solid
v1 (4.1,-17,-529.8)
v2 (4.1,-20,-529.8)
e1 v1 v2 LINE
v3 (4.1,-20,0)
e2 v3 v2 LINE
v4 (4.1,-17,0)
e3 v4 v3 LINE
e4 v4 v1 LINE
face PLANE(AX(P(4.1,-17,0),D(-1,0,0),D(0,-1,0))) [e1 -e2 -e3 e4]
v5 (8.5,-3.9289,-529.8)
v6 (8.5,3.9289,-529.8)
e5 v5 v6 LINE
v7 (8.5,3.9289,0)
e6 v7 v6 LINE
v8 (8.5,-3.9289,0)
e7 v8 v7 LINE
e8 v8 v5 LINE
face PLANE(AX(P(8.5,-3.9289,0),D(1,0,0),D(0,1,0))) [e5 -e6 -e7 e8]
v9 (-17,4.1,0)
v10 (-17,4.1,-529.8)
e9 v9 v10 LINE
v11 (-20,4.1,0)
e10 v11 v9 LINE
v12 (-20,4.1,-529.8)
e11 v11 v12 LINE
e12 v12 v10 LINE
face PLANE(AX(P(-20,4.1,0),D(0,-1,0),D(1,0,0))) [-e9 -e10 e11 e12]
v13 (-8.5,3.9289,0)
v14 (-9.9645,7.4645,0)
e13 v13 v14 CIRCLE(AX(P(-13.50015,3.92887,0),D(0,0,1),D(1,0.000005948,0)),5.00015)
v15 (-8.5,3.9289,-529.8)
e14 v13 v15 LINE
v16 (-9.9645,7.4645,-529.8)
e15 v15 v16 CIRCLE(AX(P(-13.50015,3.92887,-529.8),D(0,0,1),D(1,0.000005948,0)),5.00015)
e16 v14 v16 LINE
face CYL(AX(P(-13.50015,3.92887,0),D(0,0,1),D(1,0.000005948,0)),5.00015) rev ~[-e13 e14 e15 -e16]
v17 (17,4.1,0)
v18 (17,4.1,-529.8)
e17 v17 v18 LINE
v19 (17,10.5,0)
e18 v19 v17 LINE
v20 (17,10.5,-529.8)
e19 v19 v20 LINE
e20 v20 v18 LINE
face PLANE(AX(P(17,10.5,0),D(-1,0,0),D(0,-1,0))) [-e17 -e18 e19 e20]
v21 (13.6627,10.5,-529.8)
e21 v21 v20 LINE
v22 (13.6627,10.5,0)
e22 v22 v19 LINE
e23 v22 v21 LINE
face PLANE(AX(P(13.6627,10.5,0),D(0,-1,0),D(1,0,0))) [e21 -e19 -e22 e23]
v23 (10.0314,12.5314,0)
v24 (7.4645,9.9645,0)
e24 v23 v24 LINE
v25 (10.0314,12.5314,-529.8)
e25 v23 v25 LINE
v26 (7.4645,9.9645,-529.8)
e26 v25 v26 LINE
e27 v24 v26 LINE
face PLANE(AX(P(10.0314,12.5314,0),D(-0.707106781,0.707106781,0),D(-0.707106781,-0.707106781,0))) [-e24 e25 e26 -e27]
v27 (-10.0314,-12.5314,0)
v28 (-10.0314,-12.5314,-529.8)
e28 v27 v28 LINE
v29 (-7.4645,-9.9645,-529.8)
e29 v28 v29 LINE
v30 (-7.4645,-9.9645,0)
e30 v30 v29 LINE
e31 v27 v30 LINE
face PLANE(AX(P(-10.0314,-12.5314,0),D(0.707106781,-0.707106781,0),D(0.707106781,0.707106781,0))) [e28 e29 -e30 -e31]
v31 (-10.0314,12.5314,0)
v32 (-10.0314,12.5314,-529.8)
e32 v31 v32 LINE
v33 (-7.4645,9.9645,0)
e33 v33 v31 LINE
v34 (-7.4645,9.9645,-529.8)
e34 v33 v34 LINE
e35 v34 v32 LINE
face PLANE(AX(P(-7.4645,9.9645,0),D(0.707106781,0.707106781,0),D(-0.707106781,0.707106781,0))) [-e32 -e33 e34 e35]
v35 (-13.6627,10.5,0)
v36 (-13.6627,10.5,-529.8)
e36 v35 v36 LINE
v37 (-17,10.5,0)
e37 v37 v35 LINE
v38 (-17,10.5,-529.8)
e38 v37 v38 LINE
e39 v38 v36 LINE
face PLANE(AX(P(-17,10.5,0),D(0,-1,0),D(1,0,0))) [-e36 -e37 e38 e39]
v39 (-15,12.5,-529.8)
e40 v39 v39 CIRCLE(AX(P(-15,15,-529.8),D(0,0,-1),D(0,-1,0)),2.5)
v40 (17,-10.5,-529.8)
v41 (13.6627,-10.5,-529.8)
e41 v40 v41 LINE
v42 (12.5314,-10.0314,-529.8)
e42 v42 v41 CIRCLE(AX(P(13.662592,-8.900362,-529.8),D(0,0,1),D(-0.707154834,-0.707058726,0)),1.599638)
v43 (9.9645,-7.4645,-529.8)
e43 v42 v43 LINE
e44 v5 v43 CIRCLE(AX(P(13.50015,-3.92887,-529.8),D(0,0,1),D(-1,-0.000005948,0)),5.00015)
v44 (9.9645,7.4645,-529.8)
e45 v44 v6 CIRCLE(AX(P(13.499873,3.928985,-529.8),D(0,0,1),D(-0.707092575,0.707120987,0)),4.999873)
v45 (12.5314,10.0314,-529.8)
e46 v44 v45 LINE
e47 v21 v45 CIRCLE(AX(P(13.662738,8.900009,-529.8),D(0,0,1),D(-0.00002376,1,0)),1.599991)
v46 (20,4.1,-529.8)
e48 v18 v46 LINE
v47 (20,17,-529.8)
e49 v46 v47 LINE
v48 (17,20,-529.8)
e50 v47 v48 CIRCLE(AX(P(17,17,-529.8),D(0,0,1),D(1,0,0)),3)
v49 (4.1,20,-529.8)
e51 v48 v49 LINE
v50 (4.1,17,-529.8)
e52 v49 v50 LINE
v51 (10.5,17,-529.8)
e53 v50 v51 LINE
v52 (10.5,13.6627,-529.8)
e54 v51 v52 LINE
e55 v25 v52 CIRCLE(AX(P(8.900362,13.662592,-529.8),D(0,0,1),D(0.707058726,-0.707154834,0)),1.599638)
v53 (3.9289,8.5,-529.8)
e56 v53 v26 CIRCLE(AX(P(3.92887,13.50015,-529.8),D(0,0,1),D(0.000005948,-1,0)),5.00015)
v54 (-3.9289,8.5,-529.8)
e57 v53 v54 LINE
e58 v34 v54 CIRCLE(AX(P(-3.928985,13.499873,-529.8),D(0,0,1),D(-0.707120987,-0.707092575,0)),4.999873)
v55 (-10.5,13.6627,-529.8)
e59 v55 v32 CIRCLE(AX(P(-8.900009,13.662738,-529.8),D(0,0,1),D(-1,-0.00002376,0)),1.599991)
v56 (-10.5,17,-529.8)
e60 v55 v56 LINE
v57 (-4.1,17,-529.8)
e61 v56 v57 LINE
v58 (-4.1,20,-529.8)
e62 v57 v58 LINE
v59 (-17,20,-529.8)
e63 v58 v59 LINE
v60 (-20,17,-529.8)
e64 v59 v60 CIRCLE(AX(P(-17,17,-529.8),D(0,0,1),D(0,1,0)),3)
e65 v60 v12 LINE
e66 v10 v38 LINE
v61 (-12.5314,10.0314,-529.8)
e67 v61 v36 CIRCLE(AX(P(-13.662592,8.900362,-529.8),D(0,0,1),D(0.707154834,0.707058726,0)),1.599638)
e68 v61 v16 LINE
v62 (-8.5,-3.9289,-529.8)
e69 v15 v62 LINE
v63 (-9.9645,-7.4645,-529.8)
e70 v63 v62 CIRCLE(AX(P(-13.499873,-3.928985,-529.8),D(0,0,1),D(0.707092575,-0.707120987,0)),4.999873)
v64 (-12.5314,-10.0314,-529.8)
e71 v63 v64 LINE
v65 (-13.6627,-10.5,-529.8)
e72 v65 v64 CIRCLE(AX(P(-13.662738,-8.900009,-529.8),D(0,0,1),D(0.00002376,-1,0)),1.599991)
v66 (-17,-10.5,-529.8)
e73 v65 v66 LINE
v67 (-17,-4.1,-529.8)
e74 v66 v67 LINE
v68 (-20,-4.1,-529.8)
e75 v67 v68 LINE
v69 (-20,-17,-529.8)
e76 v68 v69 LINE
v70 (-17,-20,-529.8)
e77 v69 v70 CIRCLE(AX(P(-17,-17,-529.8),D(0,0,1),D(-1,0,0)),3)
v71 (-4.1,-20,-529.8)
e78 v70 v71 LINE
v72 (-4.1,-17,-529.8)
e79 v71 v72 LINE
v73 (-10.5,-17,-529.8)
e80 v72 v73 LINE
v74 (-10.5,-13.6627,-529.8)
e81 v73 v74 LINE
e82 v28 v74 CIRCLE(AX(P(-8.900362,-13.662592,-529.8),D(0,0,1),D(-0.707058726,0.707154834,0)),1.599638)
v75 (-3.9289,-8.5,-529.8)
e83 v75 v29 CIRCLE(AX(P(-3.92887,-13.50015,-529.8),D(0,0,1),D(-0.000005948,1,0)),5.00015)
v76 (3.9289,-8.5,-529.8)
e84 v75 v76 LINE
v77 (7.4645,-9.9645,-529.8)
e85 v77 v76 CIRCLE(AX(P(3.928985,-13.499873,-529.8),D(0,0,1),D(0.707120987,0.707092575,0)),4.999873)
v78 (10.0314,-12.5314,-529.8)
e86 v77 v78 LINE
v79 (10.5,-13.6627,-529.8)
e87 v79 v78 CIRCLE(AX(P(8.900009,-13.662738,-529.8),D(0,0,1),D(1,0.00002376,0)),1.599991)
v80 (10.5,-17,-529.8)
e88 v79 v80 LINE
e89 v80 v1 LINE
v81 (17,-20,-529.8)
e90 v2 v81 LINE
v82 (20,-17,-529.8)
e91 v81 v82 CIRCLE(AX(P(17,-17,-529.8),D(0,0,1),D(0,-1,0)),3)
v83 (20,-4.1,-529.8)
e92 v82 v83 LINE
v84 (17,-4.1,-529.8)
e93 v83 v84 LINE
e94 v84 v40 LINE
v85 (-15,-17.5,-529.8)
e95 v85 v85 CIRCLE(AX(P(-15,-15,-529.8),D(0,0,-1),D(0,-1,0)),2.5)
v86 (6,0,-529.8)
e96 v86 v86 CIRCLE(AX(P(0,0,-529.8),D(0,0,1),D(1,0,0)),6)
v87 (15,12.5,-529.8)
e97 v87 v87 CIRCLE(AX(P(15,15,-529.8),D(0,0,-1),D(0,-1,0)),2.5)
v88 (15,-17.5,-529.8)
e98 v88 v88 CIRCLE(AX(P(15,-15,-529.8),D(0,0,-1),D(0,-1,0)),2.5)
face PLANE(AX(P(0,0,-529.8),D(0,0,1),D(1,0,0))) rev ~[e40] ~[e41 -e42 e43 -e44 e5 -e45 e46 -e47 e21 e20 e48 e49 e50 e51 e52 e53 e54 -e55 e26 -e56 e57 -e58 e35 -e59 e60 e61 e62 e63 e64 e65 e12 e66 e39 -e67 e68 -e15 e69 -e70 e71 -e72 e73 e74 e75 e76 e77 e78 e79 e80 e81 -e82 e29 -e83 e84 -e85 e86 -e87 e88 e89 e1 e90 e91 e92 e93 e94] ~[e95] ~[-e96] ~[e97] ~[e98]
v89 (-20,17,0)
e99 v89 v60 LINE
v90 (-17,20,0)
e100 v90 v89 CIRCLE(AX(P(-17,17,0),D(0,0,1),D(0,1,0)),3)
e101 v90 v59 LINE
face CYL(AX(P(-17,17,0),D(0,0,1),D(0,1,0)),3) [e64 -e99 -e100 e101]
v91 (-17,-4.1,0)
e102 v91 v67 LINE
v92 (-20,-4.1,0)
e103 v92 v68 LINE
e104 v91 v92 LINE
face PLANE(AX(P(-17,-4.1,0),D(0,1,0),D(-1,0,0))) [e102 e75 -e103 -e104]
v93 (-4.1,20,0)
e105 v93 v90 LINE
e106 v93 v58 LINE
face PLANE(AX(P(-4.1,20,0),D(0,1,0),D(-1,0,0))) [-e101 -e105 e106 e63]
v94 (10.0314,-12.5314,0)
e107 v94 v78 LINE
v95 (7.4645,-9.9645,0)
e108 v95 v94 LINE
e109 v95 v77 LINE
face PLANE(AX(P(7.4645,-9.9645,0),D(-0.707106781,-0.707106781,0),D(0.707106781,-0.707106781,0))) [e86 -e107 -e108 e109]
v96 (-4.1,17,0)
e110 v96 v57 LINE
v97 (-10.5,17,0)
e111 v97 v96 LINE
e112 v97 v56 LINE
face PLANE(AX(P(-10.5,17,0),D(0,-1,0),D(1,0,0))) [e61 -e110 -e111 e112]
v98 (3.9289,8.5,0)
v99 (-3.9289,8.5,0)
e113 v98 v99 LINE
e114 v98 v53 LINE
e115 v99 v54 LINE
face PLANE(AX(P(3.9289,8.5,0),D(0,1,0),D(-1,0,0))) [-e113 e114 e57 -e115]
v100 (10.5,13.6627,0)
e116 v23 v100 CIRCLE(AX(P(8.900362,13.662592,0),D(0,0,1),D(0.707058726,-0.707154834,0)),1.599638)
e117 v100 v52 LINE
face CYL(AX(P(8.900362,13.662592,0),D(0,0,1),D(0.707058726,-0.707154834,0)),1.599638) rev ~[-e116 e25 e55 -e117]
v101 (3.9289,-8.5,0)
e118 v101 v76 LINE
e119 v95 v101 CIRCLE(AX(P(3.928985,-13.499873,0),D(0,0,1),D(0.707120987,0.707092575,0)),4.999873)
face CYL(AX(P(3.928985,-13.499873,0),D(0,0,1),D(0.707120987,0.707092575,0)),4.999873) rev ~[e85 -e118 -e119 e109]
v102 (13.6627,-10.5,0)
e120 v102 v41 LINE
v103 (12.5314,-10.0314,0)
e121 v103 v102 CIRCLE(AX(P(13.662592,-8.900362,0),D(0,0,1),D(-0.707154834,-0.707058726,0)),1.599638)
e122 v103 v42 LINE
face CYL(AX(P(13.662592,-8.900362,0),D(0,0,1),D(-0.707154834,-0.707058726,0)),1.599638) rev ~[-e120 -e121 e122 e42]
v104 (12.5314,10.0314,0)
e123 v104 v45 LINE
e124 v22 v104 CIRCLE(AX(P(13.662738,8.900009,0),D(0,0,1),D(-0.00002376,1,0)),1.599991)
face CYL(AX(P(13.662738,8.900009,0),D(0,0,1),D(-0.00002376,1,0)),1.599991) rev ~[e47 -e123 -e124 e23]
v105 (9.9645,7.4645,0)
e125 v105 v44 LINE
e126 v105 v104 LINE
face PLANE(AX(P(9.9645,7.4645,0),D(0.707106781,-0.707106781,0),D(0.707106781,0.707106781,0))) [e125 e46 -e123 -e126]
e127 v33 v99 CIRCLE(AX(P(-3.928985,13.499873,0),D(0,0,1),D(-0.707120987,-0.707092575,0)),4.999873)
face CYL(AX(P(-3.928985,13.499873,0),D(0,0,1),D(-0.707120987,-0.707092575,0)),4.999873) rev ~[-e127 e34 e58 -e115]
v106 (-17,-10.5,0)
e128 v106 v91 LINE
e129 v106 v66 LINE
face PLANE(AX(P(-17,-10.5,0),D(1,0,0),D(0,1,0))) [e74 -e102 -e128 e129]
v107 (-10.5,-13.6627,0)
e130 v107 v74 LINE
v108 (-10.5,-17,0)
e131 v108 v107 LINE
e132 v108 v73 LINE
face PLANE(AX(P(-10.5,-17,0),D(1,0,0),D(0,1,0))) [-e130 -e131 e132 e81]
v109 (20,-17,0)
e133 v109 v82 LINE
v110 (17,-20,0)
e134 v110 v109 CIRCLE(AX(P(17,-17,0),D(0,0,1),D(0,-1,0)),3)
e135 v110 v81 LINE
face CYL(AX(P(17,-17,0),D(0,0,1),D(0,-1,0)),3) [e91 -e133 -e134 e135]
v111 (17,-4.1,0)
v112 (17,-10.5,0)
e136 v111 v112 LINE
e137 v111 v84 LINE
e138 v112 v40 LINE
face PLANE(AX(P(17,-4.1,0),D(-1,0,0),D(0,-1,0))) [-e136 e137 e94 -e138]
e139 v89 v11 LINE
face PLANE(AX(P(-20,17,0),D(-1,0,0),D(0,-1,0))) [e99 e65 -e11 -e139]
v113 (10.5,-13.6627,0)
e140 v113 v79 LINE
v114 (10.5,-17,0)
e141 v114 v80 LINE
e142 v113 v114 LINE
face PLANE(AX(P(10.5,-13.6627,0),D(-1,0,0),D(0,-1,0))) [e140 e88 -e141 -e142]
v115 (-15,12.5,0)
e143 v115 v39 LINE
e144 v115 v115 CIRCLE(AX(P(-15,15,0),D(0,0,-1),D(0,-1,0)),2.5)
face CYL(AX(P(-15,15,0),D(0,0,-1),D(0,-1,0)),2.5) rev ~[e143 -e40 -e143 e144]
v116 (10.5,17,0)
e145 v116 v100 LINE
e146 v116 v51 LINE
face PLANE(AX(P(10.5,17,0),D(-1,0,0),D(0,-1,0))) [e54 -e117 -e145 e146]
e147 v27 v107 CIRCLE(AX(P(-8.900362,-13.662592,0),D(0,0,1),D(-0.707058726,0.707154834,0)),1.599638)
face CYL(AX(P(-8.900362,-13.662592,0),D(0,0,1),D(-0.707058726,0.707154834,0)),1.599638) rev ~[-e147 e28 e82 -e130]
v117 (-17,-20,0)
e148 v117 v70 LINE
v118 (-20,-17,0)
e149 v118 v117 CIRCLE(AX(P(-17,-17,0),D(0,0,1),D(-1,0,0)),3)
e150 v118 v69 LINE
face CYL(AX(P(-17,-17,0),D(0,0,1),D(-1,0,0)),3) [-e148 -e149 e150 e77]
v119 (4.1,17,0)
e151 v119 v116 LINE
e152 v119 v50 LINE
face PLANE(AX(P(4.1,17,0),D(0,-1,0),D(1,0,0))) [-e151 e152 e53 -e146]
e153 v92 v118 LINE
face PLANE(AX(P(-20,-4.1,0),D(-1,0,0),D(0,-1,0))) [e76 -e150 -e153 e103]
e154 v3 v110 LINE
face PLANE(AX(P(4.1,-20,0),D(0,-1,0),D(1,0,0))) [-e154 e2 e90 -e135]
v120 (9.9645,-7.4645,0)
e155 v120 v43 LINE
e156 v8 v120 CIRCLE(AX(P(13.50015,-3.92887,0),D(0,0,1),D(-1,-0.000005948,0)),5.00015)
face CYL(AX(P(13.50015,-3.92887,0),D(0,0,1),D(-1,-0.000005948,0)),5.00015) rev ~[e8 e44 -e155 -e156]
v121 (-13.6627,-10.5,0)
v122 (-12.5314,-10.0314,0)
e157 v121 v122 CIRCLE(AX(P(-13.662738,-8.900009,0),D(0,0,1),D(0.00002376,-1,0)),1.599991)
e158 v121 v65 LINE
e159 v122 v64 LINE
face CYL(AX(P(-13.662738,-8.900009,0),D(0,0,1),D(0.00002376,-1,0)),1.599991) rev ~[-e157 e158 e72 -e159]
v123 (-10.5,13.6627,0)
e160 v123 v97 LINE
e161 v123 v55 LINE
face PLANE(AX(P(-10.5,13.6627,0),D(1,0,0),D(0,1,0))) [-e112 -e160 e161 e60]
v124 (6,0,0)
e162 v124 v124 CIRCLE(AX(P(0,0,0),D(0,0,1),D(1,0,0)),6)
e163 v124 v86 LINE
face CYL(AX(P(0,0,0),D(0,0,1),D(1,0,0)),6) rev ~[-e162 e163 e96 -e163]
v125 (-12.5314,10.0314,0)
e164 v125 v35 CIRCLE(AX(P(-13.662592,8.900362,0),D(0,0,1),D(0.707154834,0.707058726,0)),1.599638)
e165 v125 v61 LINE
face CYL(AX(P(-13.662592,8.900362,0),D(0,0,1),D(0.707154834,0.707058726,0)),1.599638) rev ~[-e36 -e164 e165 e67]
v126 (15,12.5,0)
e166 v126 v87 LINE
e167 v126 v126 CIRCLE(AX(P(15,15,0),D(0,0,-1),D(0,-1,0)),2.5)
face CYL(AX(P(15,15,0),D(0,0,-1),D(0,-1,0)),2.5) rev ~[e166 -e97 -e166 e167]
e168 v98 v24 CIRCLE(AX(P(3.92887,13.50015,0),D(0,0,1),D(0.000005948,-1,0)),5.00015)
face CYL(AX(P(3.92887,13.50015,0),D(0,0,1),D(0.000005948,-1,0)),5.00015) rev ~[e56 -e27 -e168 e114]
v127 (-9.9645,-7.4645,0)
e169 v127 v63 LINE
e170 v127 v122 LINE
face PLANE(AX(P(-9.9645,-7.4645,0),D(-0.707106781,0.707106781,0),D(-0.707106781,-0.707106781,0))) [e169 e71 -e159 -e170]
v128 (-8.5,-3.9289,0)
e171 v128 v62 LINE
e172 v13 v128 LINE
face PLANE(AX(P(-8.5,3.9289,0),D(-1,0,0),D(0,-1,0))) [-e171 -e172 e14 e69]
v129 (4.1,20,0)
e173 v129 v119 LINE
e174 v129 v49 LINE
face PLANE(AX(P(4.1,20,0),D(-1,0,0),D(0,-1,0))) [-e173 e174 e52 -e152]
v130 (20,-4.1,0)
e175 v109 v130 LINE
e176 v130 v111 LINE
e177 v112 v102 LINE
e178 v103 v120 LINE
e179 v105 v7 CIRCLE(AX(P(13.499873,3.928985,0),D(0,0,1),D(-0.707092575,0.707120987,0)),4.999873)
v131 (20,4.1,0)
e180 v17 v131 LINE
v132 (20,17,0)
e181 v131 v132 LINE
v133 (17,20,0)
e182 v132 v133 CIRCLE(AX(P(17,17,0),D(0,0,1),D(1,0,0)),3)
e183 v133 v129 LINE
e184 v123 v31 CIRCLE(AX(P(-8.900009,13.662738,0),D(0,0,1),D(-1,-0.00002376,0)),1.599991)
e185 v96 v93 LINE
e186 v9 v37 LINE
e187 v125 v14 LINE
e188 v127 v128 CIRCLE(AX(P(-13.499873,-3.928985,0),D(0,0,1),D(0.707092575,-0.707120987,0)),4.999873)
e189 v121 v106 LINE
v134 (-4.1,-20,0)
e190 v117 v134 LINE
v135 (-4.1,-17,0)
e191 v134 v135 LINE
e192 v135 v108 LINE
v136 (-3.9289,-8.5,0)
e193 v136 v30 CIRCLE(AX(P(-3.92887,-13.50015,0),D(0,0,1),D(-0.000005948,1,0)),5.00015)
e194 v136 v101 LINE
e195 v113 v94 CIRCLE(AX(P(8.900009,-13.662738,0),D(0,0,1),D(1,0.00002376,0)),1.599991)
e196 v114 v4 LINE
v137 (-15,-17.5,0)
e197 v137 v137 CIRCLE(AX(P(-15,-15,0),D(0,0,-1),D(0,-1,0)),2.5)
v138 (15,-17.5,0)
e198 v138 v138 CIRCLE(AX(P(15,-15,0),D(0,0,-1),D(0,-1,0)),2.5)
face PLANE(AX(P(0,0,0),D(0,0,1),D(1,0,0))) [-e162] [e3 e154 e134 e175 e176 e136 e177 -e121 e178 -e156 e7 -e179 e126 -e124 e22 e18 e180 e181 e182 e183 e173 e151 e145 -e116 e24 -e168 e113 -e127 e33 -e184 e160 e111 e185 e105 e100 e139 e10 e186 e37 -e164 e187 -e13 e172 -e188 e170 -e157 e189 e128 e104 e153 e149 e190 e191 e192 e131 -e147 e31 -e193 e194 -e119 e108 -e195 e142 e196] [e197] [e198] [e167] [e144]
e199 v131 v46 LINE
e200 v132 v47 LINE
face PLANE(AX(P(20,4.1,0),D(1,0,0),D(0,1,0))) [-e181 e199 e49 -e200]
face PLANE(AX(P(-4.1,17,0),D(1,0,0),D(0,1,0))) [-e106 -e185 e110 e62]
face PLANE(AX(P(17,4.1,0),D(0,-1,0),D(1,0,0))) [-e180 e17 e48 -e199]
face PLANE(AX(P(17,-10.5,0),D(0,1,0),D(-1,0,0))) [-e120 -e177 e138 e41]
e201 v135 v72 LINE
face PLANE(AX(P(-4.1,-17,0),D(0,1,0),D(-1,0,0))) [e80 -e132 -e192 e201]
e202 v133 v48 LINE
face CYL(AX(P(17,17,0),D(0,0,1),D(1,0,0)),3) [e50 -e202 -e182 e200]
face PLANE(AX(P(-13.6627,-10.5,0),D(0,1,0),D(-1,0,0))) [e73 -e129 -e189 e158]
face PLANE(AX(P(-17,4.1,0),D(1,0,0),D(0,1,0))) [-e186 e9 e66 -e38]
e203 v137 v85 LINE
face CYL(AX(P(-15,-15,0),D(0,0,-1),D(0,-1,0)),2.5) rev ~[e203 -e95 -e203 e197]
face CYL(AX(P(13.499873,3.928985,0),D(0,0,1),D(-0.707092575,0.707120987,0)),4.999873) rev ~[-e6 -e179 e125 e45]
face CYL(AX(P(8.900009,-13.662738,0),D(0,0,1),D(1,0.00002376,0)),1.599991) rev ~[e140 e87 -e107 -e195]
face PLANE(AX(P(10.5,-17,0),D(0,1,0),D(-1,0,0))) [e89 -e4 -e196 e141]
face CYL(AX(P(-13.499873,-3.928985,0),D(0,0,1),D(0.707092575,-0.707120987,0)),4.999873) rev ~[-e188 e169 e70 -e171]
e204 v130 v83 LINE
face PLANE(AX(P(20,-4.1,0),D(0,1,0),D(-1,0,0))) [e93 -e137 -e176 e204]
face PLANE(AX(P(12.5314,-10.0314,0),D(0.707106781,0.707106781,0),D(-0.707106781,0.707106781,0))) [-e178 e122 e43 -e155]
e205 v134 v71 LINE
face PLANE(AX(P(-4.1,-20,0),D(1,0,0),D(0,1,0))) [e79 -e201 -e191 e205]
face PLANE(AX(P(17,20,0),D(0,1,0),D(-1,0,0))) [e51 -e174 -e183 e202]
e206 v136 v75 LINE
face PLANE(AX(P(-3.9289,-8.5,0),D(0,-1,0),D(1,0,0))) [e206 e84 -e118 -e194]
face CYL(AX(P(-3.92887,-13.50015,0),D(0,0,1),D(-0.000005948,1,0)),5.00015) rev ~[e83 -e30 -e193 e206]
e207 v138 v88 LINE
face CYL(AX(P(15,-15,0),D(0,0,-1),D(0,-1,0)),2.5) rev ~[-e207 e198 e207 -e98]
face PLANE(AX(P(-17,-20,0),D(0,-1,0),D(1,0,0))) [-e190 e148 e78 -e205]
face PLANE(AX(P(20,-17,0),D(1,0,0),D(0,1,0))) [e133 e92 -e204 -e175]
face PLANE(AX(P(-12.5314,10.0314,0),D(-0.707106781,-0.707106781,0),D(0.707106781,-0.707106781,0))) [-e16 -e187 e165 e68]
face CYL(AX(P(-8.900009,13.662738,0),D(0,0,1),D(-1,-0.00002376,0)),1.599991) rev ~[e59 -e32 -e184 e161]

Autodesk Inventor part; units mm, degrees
sketch "Skizze_1" plane through (0, 0, 0) normal (0, 0, 1) x (1, 0, 0)
  arc A0 (-20, -17) -> (-17, -20) centre (-17, -17) ccw
  line L0 (-17, -20) -> (-4.1, -20)
  line L1 (-4.1, -20) -> (-4.1, -17)
  line L2 (-4.1, -17) -> (-10.5, -17)
  line L3 (-10.5, -17) -> (-10.5, -13.6627)
  arc A1 (-10.0314, -12.5314) -> (-10.5, -13.6627) centre (-8.9002, -13.6627) ccw
  line L4 (-10.0314, -12.5314) -> (-7.4645, -9.9645)
  arc A2 (-3.9289, -8.5) -> (-7.4645, -9.9645) centre (-3.9289, -13.5) ccw
  line L5 (-3.9289, -8.5) -> (3.9289, -8.5)
  arc A3 (7.4645, -9.9645) -> (3.9289, -8.5) centre (3.9289, -13.5) ccw
  line L6 (7.4645, -9.9645) -> (10.0314, -12.5314)
  arc A4 (10.5, -13.6627) -> (10.0314, -12.5314) centre (8.9002, -13.6627) ccw
  line L7 (10.5, -13.6627) -> (10.5, -17)
  line L8 (10.5, -17) -> (4.1, -17)
  line L9 (4.1, -17) -> (4.1, -20)
  line L10 (4.1, -20) -> (17, -20)
  arc A5 (17, -20) -> (20, -17) centre (17, -17) ccw
  line L11 (20, -17) -> (20, -4.1)
  line L12 (20, -4.1) -> (17, -4.1)
  line L13 (17, -4.1) -> (17, -10.5)
  line L14 (17, -10.5) -> (13.6627, -10.5)
  arc A6 (12.5314, -10.0314) -> (13.6627, -10.5) centre (13.6627, -8.9002) ccw
  line L15 (12.5314, -10.0314) -> (9.9645, -7.4645)
  arc A7 (8.5, -3.9289) -> (9.9645, -7.4645) centre (13.5, -3.9289) ccw
  line L16 (8.5, -3.9289) -> (8.5, 3.9289)
  arc A8 (9.9645, 7.4645) -> (8.5, 3.9289) centre (13.5, 3.9289) ccw
  line L17 (9.9645, 7.4645) -> (12.5314, 10.0314)
  arc A9 (13.6627, 10.5) -> (12.5314, 10.0314) centre (13.6627, 8.9002) ccw
  line L18 (13.6627, 10.5) -> (17, 10.5)
  line L19 (17, 10.5) -> (17, 4.1)
  line L20 (17, 4.1) -> (20, 4.1)
  line L21 (20, 4.1) -> (20, 17)
  arc A10 (20, 17) -> (17, 20) centre (17, 17) ccw
  line L22 (17, 20) -> (4.1, 20)
  line L23 (4.1, 20) -> (4.1, 17)
  line L24 (4.1, 17) -> (10.5, 17)
  line L25 (10.5, 17) -> (10.5, 13.6627)
  arc A11 (10.0314, 12.5314) -> (10.5, 13.6627) centre (8.9002, 13.6627) ccw
  line L26 (10.0314, 12.5314) -> (7.4645, 9.9645)
  arc A12 (3.9289, 8.5) -> (7.4645, 9.9645) centre (3.9289, 13.5) ccw
  line L27 (3.9289, 8.5) -> (-3.9289, 8.5)
  arc A13 (-7.4645, 9.9645) -> (-3.9289, 8.5) centre (-3.9289, 13.5) ccw
  line L28 (-7.4645, 9.9645) -> (-10.0314, 12.5314)
  arc A14 (-10.5, 13.6627) -> (-10.0314, 12.5314) centre (-8.9002, 13.6627) ccw
  line L29 (-10.5, 13.6627) -> (-10.5, 17)
  line L30 (-10.5, 17) -> (-4.1, 17)
  line L31 (-4.1, 17) -> (-4.1, 20)
  line L32 (-4.1, 20) -> (-17, 20)
  arc A15 (-17, 20) -> (-20, 17) centre (-17, 17) ccw
  line L33 (-20, 17) -> (-20, 4.1)
  line L34 (-20, 4.1) -> (-17, 4.1)
  line L35 (-17, 4.1) -> (-17, 10.5)
  line L36 (-17, 10.5) -> (-13.6627, 10.5)
  arc A16 (-12.5314, 10.0314) -> (-13.6627, 10.5) centre (-13.6627, 8.9002) ccw
  line L37 (-12.5314, 10.0314) -> (-9.9645, 7.4645)
  arc A17 (-8.5, 3.9289) -> (-9.9645, 7.4645) centre (-13.5, 3.9289) ccw
  line L38 (-8.5, 3.9289) -> (-8.5, -3.9289)
  arc A18 (-9.9645, -7.4645) -> (-8.5, -3.9289) centre (-13.5, -3.9289) ccw
  line L39 (-9.9645, -7.4645) -> (-12.5314, -10.0314)
  arc A19 (-13.6627, -10.5) -> (-12.5314, -10.0314) centre (-13.6627, -8.9002) ccw
  line L40 (-13.6627, -10.5) -> (-17, -10.5)
  line L41 (-17, -10.5) -> (-17, -4.1)
  line L42 (-17, -4.1) -> (-20, -4.1)
  line L43 (-20, -4.1) -> (-20, -17)
  circle A20 centre (0, 0) radius 6
extrude "Extrusion1" add sketch "Skizze_1" against normal blind 529.8
sketch "Sketch2" plane through (0, 0, 0) normal (0, 0, 1) x (1, 0, 0)
  point P0 (-15, -15)
hole "Drilling 1" at (-15, -15, 0) direction (0, 0, -1) diameter 5 depth 6000
sketch "Sketch3" plane through (0, 0, 0) normal (0, 0, 1) x (1, 0, 0)
  point P0 (15, -15)
hole "Drilling 2" at (15, -15, 0) direction (0, 0, -1) diameter 5 depth 6000
sketch "Sketch4" plane through (0, 0, 0) normal (0, 0, 1) x (1, 0, 0)
  point P0 (15, 15)
hole "Drilling 3" at (15, 15, 0) direction (0, 0, -1) diameter 5 depth 6000
sketch "Sketch5" plane through (0, 0, 0) normal (0, 0, 1) x (1, 0, 0)
  point P0 (-15, 15)
hole "Drilling 4" at (-15, 15, 0) direction (0, 0, -1) diameter 5 depth 6000
ref_plane "side_4d_XY" through (-20, 0, -264.9) normal (-1, 0, 0) x (0, 1, 0)
ref_plane "side_4d_YZ" through (-20, 0, -264.9) normal (0, 1, 0) x (0, 0, -1)
ref_plane "side_4d_ZX" through (-20, 0, -264.9) normal (0, 0, -1) x (-1, 0, 0)
ref_plane "side_1a_XY" through (0, 20, -264.9) normal (0, 1, 0) x (1, 0, 0)
ref_plane "side_1a_YZ" through (0, 20, -264.9) normal (1, 0, 0) x (0, 0, -1)
ref_plane "side_1a_ZX" through (0, 20, -264.9) normal (0, 0, -1) x (0, 1, 0)
ref_plane "side_2b_XY" through (20, 0, -264.9) normal (1, 0, 0) x (0, -1, 0)
ref_plane "side_2b_YZ" through (20, 0, -264.9) normal (0, -1, 0) x (0, 0, -1)
ref_plane "side_2b_ZX" through (20, 0, -264.9) normal (0, 0, -1) x (1, 0, 0)
ref_plane "side_3c_XY" through (0, -20, -264.9) normal (0, -1, 0) x (-1, 0, 0)
ref_plane "side_3c_YZ" through (0, -20, -264.9) normal (-1, 0, 0) x (0, 0, -1)
ref_plane "side_3c_ZX" through (0, -20, -264.9) normal (0, 0, -1) x (0, -1, 0)
ref_plane "end_XY" through (0, 0, -529.8) normal (0, 0, -1) x (1, 0, 0)
ref_plane "end_YZ" through (0, 0, -529.8) normal (1, 0, 0) x (0, -1, 0)
ref_plane "end_ZX" through (0, 0, -529.8) normal (0, -1, 0) x (0, 0, -1)
ref_plane "start_XY" through (0, 0, 0) normal (0, 0, 1) x (1, 0, 0)
ref_plane "start_YZ" through (0, 0, 0) normal (1, 0, 0) x (0, 1, 0)
ref_plane "start_ZX" through (0, 0, 0) normal (0, 1, 0) x (0, 0, 1)
properties part number "MayTec 1.11.040040.43S_Profile 40x40, 4E, S_529.8_Detail_(0;0,0,0)"
